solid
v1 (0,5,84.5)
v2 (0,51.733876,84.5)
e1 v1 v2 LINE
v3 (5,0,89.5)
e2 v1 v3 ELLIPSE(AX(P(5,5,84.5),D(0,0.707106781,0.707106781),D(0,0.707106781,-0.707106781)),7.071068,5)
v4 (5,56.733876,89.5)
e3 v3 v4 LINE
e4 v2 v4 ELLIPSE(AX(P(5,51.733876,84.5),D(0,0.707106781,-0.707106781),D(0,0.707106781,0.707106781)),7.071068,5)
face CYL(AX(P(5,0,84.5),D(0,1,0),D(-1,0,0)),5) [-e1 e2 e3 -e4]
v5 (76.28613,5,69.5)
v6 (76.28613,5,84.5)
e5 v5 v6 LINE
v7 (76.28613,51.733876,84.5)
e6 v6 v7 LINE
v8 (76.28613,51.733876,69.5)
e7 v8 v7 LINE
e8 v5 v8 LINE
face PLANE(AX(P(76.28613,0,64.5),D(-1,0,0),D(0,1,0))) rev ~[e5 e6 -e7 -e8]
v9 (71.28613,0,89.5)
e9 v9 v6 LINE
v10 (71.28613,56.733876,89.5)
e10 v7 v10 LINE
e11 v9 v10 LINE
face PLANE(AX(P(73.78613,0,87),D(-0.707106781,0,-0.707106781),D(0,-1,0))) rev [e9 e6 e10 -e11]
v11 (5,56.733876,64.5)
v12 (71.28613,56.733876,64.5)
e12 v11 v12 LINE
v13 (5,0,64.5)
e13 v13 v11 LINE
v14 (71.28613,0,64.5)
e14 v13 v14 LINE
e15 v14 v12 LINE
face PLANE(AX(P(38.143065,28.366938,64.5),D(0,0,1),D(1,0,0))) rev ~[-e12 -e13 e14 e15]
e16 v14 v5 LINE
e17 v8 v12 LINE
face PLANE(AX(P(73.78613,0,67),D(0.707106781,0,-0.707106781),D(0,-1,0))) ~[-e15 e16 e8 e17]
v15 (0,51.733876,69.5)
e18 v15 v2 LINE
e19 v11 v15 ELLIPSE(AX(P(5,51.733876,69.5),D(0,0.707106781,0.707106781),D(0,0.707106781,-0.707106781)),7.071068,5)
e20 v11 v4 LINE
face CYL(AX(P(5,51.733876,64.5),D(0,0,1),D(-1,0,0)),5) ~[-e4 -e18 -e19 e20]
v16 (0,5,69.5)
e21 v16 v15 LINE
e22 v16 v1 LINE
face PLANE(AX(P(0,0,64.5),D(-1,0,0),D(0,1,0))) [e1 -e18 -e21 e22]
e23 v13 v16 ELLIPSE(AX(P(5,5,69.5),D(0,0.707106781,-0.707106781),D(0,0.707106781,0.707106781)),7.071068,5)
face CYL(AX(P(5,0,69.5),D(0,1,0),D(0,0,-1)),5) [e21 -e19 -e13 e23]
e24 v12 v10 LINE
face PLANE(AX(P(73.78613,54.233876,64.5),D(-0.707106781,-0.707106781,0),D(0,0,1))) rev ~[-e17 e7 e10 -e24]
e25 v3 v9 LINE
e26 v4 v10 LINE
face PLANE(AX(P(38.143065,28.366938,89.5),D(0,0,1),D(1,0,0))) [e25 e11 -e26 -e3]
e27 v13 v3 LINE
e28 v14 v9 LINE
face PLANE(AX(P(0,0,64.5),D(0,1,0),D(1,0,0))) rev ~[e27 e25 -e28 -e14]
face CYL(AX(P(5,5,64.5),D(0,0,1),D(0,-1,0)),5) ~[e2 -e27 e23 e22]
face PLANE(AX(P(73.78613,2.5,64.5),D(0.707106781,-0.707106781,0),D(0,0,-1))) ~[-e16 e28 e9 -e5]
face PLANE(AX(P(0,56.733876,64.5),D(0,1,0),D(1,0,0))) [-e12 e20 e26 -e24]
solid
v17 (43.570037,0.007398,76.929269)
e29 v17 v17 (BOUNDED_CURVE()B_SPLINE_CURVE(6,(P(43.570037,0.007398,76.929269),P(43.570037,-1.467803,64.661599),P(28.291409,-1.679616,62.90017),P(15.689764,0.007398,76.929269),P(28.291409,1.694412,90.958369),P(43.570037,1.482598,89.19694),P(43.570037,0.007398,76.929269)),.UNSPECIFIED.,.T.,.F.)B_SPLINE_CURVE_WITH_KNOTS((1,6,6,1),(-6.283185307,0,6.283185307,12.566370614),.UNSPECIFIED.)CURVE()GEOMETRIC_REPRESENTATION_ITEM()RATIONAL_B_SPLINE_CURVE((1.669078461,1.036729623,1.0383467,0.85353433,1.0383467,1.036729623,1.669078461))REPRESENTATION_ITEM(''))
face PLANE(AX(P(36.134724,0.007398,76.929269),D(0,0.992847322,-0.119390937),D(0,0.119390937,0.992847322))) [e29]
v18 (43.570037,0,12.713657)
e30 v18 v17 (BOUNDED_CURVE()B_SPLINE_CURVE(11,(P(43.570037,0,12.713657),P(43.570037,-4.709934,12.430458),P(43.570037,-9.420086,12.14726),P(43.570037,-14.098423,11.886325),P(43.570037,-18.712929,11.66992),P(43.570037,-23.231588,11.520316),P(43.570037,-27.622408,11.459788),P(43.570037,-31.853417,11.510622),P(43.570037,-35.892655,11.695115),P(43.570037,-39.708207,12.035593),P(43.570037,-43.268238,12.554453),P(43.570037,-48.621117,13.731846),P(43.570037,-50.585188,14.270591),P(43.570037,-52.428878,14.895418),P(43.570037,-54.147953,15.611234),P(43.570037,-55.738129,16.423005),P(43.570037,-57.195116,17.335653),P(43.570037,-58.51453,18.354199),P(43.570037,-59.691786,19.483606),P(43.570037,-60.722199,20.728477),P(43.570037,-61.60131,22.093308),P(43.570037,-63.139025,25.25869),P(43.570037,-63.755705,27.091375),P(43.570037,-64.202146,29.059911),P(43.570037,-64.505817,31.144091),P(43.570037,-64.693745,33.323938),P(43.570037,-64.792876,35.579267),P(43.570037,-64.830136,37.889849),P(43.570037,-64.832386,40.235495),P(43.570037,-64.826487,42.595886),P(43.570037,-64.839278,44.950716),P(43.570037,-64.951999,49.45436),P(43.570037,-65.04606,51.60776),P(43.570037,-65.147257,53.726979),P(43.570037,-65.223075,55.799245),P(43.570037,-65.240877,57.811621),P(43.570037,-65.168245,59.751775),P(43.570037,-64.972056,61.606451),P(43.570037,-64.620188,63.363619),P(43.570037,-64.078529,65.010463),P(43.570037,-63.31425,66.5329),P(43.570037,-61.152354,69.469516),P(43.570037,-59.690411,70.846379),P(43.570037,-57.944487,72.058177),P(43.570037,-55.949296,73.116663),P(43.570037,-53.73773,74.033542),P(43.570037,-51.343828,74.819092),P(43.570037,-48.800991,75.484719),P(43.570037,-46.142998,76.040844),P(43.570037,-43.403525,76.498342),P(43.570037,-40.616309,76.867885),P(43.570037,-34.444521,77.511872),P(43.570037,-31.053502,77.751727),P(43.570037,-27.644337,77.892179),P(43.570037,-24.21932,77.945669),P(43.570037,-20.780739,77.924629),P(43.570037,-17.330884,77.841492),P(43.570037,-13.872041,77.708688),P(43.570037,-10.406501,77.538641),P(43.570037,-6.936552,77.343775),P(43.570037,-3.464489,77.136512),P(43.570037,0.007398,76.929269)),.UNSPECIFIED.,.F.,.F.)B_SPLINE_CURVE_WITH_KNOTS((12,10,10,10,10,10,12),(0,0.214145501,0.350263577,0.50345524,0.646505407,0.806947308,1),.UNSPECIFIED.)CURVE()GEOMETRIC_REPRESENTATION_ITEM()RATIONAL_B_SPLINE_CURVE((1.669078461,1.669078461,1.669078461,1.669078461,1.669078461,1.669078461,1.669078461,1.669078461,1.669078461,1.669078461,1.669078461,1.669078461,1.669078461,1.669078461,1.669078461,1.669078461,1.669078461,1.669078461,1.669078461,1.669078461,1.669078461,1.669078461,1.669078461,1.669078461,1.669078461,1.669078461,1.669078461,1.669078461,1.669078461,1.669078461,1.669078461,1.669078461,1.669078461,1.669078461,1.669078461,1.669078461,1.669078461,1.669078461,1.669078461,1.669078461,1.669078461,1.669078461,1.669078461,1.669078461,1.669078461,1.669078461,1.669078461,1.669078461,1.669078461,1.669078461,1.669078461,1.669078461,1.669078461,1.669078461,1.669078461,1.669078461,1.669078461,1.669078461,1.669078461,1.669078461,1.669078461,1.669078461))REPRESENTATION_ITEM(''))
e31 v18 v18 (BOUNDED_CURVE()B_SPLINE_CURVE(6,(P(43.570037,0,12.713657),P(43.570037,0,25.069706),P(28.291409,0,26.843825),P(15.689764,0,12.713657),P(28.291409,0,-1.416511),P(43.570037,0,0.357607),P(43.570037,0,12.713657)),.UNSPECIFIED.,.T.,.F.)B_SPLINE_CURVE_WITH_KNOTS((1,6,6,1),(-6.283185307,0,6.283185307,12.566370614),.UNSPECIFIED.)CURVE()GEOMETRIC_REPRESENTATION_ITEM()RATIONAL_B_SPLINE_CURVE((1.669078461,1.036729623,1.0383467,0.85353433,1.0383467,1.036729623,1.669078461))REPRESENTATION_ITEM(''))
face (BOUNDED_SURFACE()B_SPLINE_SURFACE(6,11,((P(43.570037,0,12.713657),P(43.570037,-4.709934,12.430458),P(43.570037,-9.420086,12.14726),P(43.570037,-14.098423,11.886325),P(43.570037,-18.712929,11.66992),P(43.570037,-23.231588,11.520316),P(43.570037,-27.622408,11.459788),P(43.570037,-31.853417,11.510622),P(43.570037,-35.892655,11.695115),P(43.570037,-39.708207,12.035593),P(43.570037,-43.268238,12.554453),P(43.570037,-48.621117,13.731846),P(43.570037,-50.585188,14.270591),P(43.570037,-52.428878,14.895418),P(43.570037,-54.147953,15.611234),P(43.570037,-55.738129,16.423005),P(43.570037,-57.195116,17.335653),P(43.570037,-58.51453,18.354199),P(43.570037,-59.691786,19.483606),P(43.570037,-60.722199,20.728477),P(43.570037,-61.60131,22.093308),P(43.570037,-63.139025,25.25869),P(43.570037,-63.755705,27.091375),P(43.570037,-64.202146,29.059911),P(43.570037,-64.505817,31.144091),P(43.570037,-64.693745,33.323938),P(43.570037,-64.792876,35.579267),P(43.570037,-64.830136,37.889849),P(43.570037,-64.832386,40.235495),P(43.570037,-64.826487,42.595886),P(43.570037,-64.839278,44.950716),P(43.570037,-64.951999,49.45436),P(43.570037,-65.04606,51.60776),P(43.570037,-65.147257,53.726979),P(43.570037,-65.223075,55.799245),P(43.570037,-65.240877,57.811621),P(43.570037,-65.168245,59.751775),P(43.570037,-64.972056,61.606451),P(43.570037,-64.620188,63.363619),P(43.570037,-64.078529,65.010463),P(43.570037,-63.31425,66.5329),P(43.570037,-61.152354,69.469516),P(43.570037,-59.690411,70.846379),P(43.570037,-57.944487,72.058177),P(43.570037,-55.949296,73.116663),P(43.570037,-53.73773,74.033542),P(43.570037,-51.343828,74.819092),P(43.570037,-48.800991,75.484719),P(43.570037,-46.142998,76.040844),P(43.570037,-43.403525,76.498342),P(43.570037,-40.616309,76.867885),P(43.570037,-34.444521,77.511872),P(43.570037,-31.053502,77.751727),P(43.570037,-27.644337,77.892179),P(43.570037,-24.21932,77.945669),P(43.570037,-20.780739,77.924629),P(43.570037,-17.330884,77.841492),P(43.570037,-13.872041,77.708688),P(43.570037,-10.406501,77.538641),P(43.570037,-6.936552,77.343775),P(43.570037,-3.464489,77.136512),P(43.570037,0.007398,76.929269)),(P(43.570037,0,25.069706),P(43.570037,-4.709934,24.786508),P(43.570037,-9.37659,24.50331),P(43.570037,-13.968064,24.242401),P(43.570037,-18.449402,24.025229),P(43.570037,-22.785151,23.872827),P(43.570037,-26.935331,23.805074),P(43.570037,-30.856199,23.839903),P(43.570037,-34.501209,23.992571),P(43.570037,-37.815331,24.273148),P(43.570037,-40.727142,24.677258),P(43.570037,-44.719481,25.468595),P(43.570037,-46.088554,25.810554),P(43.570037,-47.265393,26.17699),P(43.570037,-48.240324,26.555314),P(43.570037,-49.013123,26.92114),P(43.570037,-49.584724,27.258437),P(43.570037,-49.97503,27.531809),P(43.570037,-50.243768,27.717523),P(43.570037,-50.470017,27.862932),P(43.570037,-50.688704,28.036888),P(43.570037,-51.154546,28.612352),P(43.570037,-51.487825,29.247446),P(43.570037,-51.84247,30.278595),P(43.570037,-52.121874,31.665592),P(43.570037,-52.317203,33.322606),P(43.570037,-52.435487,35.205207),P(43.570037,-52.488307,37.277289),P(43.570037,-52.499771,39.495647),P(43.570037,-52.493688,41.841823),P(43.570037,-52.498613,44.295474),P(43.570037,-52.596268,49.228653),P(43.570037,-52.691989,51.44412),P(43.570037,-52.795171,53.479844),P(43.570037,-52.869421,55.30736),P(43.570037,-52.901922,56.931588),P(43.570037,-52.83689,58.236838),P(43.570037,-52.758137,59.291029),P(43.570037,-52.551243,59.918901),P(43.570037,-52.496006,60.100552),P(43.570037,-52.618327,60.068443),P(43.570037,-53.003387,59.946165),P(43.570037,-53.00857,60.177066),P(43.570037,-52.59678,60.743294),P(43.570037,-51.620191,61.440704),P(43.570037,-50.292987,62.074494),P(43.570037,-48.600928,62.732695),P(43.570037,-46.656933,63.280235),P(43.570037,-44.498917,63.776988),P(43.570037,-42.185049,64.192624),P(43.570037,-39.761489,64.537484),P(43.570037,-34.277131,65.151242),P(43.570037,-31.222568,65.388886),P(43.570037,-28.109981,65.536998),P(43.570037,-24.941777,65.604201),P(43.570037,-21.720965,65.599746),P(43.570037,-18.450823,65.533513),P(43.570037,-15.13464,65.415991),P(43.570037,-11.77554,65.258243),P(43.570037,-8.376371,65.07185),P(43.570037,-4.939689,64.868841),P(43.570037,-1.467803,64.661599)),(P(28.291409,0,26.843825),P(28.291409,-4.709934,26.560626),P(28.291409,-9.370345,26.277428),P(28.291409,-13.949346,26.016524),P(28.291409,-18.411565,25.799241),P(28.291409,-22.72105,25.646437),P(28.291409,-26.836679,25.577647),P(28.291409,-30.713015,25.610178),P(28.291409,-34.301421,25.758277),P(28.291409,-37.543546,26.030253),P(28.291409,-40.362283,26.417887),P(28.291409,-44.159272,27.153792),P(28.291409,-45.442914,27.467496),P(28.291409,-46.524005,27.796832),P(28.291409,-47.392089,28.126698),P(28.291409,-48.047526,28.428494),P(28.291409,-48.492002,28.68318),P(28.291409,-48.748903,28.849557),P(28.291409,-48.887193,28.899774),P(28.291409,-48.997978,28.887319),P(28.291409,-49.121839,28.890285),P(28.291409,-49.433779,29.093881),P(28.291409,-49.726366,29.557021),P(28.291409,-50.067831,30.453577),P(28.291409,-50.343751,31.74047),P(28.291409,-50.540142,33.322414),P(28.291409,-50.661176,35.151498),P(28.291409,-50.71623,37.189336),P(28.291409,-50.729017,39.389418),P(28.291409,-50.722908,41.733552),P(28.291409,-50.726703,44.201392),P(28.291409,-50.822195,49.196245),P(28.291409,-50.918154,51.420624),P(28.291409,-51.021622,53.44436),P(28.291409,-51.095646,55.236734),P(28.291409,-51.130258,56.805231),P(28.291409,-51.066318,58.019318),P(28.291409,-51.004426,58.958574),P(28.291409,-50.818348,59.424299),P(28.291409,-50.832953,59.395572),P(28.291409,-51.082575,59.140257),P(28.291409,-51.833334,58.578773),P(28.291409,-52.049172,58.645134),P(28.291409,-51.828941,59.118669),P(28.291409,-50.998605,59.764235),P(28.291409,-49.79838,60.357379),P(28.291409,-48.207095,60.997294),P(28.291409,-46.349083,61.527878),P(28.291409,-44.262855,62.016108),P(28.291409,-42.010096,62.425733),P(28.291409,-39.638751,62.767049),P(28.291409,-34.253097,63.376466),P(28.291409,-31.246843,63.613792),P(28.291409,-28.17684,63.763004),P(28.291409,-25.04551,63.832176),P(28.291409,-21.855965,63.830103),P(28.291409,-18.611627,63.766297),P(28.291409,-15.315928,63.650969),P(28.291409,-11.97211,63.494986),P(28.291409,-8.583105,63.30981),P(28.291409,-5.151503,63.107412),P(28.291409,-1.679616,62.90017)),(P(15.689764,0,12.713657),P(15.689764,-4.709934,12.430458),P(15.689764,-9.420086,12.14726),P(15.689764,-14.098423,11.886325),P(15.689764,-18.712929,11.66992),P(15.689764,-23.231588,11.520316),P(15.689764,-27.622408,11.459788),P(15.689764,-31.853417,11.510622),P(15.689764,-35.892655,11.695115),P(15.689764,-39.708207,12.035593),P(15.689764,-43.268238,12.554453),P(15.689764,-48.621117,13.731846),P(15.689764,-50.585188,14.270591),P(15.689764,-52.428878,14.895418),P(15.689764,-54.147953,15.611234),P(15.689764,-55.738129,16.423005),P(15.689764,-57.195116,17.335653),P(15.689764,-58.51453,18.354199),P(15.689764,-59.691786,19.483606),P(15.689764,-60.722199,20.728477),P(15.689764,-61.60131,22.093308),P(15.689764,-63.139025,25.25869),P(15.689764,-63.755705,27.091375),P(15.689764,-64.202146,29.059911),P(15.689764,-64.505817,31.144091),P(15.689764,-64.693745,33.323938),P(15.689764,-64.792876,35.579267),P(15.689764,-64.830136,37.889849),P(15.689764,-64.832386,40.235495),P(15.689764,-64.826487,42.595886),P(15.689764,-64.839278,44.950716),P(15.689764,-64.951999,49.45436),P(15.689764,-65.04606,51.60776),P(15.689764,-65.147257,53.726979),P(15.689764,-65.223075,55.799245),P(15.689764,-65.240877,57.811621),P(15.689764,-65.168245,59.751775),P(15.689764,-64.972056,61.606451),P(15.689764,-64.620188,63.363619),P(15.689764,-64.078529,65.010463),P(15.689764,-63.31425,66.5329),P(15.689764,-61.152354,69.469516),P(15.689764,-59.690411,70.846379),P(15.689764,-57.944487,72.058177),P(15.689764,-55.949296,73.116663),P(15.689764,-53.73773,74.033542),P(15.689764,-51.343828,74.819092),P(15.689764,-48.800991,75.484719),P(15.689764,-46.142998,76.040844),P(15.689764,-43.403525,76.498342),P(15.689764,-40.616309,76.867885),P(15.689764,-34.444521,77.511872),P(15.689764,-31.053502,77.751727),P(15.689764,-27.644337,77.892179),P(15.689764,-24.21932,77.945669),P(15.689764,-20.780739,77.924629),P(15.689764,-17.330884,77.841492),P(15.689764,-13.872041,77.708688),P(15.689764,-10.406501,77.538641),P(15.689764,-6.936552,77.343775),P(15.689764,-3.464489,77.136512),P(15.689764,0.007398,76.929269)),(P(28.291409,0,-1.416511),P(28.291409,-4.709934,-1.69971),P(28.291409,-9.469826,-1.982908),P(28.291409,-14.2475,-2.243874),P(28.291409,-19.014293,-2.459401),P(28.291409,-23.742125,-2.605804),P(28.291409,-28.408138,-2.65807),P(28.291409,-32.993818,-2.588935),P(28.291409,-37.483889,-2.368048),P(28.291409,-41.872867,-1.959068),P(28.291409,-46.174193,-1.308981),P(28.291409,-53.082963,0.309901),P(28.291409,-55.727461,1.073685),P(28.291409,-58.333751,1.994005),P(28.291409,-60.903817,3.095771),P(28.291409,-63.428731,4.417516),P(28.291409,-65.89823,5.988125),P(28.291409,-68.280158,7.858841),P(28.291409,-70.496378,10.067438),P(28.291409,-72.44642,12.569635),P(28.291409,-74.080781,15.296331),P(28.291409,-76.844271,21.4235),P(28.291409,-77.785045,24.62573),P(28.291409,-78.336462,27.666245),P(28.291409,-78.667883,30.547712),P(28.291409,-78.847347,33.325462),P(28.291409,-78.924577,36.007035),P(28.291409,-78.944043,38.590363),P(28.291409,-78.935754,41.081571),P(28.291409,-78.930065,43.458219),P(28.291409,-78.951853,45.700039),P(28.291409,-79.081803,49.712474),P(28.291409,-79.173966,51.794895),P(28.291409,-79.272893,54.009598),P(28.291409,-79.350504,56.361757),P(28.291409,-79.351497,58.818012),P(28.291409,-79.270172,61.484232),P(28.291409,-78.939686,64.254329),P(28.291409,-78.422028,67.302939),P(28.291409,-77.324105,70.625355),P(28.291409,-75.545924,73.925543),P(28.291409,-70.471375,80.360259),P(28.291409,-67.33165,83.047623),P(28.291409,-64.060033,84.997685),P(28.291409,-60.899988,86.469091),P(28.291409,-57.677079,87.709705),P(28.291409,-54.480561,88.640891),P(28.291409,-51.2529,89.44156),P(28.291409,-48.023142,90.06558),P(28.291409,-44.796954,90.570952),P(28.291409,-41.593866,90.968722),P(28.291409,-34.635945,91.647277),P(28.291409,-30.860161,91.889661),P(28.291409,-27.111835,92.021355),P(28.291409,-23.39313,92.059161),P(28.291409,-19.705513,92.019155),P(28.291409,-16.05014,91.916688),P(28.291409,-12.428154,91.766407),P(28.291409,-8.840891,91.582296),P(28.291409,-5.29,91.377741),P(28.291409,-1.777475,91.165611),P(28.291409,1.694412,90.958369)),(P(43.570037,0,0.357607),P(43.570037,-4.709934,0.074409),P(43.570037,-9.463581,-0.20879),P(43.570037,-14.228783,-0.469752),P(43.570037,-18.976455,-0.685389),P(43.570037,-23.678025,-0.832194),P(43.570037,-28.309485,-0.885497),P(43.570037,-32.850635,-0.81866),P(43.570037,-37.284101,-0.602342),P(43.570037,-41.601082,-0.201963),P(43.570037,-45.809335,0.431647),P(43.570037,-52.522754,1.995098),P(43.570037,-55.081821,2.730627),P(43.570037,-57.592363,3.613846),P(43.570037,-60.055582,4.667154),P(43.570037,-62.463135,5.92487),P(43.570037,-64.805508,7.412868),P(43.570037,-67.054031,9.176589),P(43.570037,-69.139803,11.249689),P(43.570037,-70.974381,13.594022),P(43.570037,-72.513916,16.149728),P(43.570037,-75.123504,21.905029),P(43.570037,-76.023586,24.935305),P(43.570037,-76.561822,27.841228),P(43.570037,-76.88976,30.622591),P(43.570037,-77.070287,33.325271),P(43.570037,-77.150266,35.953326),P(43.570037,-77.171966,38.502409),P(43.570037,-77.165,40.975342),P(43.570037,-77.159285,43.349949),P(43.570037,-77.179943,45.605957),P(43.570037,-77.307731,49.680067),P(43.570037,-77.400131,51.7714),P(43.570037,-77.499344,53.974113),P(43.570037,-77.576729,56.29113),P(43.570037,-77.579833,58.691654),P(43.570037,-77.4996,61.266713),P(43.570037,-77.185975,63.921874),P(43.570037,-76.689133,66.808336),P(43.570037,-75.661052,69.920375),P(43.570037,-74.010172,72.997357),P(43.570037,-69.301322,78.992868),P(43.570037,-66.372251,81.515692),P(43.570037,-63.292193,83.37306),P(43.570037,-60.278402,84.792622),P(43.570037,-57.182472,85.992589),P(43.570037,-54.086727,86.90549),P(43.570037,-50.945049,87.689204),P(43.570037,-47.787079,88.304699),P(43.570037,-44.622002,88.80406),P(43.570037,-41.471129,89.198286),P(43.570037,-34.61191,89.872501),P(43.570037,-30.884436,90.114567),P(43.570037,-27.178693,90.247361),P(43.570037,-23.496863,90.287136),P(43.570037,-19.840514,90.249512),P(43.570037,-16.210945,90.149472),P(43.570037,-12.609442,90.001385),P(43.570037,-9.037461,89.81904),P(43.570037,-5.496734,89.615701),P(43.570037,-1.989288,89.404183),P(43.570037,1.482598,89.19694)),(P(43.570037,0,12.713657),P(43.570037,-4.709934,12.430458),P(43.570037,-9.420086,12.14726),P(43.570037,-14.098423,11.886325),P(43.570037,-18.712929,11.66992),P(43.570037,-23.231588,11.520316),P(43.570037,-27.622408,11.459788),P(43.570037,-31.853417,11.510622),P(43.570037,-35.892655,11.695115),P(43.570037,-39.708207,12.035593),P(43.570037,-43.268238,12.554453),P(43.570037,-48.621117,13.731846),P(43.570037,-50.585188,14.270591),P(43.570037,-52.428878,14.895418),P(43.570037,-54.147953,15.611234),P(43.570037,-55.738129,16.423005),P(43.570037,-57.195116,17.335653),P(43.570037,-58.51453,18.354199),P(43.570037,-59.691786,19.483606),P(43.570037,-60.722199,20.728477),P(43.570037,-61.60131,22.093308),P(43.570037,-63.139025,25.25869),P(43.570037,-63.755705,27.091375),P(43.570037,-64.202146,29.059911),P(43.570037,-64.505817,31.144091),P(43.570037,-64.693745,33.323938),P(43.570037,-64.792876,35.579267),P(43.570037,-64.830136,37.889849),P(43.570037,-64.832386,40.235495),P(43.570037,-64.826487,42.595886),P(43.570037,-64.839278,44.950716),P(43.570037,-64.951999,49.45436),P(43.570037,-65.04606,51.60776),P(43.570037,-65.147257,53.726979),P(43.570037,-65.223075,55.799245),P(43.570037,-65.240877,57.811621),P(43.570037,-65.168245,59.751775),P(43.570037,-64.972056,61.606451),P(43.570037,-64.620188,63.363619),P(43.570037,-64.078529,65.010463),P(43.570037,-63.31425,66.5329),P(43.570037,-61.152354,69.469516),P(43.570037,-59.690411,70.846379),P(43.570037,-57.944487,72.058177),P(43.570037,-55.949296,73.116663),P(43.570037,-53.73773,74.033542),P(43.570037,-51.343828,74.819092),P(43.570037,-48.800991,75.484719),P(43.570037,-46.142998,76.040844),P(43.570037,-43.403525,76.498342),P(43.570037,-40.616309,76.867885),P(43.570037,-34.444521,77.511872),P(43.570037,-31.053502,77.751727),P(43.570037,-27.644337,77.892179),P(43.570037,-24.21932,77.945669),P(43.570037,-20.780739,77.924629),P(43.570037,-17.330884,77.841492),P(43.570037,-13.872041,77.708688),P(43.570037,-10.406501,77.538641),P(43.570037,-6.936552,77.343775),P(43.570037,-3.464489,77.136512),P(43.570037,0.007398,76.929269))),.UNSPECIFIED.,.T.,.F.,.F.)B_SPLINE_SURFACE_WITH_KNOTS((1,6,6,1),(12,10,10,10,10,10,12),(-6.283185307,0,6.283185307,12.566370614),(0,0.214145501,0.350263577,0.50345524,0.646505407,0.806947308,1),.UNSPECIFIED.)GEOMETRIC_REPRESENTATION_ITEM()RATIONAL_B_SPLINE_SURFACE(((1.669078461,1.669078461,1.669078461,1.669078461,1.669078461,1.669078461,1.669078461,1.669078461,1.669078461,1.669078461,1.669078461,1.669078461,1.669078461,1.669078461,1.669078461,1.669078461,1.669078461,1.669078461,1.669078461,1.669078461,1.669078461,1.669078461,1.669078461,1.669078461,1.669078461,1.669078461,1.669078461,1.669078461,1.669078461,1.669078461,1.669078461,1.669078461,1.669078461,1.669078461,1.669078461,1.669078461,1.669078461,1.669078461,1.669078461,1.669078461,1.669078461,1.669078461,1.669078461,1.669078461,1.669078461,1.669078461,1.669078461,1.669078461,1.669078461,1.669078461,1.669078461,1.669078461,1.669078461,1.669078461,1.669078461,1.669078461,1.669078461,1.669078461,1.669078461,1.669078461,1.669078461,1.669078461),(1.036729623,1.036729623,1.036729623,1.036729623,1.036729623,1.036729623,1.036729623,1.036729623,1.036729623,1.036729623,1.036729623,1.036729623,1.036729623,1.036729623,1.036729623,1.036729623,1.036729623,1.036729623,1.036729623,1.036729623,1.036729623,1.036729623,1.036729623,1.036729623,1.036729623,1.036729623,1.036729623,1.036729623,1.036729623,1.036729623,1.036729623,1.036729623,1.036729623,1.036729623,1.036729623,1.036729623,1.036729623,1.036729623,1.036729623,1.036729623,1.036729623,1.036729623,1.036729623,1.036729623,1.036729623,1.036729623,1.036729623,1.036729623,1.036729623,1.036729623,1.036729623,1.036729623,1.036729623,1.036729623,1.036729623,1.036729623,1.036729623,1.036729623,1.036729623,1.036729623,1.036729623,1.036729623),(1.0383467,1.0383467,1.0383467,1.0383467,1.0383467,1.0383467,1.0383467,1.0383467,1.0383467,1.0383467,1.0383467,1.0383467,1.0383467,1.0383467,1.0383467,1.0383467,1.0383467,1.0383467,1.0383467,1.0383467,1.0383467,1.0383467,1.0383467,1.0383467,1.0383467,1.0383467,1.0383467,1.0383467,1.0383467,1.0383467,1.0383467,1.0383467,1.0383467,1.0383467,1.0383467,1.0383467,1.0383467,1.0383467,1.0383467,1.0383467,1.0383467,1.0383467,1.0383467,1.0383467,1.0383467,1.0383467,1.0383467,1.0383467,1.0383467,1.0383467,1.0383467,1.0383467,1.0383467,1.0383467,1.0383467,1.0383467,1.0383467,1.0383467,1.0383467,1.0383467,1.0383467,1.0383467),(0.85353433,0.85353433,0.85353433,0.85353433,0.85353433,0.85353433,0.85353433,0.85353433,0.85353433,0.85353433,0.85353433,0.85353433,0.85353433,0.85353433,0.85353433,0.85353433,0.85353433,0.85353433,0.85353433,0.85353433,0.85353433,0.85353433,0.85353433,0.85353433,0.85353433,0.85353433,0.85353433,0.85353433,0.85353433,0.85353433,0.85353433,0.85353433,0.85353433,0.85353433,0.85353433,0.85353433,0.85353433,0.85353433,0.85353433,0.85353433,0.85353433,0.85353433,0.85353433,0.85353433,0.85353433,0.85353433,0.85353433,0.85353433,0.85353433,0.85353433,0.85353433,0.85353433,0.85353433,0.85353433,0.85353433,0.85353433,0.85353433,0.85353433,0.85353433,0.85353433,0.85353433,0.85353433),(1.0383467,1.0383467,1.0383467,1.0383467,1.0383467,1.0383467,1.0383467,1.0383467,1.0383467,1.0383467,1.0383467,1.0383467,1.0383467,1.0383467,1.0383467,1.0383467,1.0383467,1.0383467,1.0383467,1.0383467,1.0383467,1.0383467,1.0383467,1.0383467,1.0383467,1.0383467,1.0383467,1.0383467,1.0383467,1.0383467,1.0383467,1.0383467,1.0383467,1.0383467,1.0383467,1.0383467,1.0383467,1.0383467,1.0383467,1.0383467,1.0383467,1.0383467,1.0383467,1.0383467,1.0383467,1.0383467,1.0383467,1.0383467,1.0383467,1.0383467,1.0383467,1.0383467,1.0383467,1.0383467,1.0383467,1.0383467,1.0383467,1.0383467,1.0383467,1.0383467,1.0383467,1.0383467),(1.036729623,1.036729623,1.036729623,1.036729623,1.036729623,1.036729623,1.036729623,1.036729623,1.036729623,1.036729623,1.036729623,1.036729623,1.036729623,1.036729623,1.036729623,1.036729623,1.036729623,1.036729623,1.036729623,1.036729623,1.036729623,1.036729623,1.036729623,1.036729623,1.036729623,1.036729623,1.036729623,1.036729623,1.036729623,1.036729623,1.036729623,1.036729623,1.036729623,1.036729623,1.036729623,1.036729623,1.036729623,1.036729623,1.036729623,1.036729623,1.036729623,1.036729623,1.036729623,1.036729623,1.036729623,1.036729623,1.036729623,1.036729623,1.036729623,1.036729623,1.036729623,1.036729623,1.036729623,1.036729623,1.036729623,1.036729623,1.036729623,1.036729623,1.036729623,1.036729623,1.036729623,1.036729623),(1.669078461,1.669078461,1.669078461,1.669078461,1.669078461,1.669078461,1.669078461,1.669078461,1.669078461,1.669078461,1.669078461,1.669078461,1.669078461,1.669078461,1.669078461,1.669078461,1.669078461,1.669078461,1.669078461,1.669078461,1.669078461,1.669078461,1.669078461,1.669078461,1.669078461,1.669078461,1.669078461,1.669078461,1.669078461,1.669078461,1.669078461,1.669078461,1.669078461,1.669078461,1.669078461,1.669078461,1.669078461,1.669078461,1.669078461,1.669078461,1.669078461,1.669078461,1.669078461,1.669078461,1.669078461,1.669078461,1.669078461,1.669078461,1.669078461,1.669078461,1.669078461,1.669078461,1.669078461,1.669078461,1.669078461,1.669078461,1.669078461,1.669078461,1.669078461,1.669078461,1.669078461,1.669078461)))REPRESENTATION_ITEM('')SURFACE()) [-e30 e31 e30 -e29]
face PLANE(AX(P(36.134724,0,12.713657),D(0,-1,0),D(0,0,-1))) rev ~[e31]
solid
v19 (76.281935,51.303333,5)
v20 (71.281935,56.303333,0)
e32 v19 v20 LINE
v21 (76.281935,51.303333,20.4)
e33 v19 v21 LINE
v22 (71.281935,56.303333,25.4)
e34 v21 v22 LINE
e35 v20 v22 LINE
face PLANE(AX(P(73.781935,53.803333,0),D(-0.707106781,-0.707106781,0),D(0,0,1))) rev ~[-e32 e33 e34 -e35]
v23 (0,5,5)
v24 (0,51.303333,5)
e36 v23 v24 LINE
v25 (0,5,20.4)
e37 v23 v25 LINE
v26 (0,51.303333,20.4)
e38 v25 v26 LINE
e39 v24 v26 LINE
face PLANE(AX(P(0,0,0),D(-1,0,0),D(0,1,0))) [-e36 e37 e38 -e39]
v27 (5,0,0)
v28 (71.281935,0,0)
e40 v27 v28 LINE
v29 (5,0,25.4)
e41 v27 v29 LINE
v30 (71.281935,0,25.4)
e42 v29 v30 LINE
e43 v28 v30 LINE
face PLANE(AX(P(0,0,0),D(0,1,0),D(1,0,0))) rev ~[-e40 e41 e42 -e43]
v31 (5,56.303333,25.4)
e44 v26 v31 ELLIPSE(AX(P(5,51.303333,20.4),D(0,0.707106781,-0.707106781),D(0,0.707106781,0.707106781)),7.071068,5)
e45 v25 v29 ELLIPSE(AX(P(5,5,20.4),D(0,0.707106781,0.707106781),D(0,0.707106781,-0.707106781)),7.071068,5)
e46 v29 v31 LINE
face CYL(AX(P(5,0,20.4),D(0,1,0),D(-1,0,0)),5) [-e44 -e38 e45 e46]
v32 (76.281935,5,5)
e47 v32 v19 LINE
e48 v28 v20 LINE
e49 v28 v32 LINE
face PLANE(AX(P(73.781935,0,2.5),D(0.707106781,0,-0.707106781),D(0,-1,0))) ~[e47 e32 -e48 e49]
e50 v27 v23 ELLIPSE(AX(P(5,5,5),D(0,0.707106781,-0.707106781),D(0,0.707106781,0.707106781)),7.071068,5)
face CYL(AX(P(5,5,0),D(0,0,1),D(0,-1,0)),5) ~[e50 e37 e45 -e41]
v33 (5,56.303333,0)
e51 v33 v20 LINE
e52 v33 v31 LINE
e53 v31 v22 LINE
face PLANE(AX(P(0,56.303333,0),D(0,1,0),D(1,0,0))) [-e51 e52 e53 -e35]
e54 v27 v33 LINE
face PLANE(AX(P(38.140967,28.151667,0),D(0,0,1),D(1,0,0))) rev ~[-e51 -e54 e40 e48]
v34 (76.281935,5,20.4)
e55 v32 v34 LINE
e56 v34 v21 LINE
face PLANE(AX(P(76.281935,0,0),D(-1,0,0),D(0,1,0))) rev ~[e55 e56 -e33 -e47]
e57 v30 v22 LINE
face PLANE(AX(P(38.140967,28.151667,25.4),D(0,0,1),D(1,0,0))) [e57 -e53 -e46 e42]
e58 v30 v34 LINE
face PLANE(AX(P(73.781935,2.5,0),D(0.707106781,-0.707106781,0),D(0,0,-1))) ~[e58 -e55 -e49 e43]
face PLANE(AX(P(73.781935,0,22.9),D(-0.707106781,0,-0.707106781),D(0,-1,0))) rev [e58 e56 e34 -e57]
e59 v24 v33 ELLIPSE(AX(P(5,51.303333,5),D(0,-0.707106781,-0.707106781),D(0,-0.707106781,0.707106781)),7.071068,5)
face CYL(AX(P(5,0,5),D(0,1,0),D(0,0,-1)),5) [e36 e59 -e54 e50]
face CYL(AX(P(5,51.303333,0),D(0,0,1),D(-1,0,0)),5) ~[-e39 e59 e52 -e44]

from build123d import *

# Parameters (mm, degrees)
F0_W      = 76.2819349766
F0_H      = 56.3033334911
F1_DEPTH  = 25.4
F5_W      = 76.2861296535
F5_H      = 56.7338764668
F6_DEPTH  = 25
F2_R      = 7.4364907576
F9_SIZE   = 5
F9_2_SIZE = 5
F10_R     = 5
F10_2_R   = 5


with BuildPart() as f1:
    # F0 (on Top) → F1 (new body)
    with BuildSketch(Plane.XY):
        with Locations((38.1409674883, 28.1516667455)):
            Rectangle(F0_W, F0_H)
    extrude(amount=F1_DEPTH)

    # F9
    f9_edges = [f1.edges().sort_by_distance(p)[0] for p in [
        (76.281935, 0, 12.7),
        (76.281935, 56.303333, 12.7),
        (76.281935, 28.151667, 0),
        (76.281935, 28.151667, 25.4),
    ]]
    chamfer(f9_edges, length=F9_SIZE)

    # F10#2
    f10_2_edges = [f1.edges().sort_by_distance(p)[0] for p in [
        (0, 56.303333, 12.7),
        (0, 28.151667, 25.4),
        (0, 28.151667, 0),
        (0, 0, 12.7),
    ]]
    fillet(f10_2_edges, radius=F10_2_R)


with BuildPart() as f6:
    # F5 (on offset) → F6 (new body)
    with BuildSketch(Plane.XY.offset(64.5)):
        with Locations((38.1430648267, 28.3669382334)):
            Rectangle(F5_W, F5_H)
    extrude(amount=F6_DEPTH)

    # F9#2
    f9_2_edges = [f6.edges().sort_by_distance(p)[0] for p in [
        (76.28613, 0, 77),
        (76.28613, 28.366938, 64.5),
        (76.28613, 28.366938, 89.5),
        (76.28613, 56.733876, 77),
    ]]
    chamfer(f9_2_edges, length=F9_2_SIZE)

    # F10
    f10_edges = [f6.edges().sort_by_distance(p)[0] for p in [
        (0, 28.366938, 89.5),
        (0, 0, 77),
        (0, 28.366938, 64.5),
        (0, 56.733876, 77),
    ]]
    fillet(f10_edges, radius=F10_R)


with BuildPart() as f8:
    # F8: sweep along a path in F7
    with BuildLine(Plane.YZ.offset(36.1)) as f8_path:
        add(Plane.YZ.offset(36.1) * Edge.make_bspline(
            [(0, 12.7756176516), (-17.2697575306, 11.7372232342), (-45.5167533298, 10.0387904279), (-65.7940215498, 21.7233568099), (-64.0425767682, 47.1450165386), (-67.0013923917, 71.3227707408), (-36.0403337757, 79.0190550942), (-12.7302498079, 77.6276400959), (0, 76.8677517772)],
            knots=[0, 0, 0, 0, 0.2141455006, 0.3502635775, 0.5034552398, 0.6465054075, 0.8069473077, 1, 1, 1, 1], degree=3))
    # F2 (on face) → F8 (sweep)
    with BuildSketch(Plane.XZ):
        with Locations((36.1335463822, 12.7136567608)):
            Circle(F2_R)
    sweep(path=f8_path.line)


solid = Compound([f1.part, f6.part, f8.part])
